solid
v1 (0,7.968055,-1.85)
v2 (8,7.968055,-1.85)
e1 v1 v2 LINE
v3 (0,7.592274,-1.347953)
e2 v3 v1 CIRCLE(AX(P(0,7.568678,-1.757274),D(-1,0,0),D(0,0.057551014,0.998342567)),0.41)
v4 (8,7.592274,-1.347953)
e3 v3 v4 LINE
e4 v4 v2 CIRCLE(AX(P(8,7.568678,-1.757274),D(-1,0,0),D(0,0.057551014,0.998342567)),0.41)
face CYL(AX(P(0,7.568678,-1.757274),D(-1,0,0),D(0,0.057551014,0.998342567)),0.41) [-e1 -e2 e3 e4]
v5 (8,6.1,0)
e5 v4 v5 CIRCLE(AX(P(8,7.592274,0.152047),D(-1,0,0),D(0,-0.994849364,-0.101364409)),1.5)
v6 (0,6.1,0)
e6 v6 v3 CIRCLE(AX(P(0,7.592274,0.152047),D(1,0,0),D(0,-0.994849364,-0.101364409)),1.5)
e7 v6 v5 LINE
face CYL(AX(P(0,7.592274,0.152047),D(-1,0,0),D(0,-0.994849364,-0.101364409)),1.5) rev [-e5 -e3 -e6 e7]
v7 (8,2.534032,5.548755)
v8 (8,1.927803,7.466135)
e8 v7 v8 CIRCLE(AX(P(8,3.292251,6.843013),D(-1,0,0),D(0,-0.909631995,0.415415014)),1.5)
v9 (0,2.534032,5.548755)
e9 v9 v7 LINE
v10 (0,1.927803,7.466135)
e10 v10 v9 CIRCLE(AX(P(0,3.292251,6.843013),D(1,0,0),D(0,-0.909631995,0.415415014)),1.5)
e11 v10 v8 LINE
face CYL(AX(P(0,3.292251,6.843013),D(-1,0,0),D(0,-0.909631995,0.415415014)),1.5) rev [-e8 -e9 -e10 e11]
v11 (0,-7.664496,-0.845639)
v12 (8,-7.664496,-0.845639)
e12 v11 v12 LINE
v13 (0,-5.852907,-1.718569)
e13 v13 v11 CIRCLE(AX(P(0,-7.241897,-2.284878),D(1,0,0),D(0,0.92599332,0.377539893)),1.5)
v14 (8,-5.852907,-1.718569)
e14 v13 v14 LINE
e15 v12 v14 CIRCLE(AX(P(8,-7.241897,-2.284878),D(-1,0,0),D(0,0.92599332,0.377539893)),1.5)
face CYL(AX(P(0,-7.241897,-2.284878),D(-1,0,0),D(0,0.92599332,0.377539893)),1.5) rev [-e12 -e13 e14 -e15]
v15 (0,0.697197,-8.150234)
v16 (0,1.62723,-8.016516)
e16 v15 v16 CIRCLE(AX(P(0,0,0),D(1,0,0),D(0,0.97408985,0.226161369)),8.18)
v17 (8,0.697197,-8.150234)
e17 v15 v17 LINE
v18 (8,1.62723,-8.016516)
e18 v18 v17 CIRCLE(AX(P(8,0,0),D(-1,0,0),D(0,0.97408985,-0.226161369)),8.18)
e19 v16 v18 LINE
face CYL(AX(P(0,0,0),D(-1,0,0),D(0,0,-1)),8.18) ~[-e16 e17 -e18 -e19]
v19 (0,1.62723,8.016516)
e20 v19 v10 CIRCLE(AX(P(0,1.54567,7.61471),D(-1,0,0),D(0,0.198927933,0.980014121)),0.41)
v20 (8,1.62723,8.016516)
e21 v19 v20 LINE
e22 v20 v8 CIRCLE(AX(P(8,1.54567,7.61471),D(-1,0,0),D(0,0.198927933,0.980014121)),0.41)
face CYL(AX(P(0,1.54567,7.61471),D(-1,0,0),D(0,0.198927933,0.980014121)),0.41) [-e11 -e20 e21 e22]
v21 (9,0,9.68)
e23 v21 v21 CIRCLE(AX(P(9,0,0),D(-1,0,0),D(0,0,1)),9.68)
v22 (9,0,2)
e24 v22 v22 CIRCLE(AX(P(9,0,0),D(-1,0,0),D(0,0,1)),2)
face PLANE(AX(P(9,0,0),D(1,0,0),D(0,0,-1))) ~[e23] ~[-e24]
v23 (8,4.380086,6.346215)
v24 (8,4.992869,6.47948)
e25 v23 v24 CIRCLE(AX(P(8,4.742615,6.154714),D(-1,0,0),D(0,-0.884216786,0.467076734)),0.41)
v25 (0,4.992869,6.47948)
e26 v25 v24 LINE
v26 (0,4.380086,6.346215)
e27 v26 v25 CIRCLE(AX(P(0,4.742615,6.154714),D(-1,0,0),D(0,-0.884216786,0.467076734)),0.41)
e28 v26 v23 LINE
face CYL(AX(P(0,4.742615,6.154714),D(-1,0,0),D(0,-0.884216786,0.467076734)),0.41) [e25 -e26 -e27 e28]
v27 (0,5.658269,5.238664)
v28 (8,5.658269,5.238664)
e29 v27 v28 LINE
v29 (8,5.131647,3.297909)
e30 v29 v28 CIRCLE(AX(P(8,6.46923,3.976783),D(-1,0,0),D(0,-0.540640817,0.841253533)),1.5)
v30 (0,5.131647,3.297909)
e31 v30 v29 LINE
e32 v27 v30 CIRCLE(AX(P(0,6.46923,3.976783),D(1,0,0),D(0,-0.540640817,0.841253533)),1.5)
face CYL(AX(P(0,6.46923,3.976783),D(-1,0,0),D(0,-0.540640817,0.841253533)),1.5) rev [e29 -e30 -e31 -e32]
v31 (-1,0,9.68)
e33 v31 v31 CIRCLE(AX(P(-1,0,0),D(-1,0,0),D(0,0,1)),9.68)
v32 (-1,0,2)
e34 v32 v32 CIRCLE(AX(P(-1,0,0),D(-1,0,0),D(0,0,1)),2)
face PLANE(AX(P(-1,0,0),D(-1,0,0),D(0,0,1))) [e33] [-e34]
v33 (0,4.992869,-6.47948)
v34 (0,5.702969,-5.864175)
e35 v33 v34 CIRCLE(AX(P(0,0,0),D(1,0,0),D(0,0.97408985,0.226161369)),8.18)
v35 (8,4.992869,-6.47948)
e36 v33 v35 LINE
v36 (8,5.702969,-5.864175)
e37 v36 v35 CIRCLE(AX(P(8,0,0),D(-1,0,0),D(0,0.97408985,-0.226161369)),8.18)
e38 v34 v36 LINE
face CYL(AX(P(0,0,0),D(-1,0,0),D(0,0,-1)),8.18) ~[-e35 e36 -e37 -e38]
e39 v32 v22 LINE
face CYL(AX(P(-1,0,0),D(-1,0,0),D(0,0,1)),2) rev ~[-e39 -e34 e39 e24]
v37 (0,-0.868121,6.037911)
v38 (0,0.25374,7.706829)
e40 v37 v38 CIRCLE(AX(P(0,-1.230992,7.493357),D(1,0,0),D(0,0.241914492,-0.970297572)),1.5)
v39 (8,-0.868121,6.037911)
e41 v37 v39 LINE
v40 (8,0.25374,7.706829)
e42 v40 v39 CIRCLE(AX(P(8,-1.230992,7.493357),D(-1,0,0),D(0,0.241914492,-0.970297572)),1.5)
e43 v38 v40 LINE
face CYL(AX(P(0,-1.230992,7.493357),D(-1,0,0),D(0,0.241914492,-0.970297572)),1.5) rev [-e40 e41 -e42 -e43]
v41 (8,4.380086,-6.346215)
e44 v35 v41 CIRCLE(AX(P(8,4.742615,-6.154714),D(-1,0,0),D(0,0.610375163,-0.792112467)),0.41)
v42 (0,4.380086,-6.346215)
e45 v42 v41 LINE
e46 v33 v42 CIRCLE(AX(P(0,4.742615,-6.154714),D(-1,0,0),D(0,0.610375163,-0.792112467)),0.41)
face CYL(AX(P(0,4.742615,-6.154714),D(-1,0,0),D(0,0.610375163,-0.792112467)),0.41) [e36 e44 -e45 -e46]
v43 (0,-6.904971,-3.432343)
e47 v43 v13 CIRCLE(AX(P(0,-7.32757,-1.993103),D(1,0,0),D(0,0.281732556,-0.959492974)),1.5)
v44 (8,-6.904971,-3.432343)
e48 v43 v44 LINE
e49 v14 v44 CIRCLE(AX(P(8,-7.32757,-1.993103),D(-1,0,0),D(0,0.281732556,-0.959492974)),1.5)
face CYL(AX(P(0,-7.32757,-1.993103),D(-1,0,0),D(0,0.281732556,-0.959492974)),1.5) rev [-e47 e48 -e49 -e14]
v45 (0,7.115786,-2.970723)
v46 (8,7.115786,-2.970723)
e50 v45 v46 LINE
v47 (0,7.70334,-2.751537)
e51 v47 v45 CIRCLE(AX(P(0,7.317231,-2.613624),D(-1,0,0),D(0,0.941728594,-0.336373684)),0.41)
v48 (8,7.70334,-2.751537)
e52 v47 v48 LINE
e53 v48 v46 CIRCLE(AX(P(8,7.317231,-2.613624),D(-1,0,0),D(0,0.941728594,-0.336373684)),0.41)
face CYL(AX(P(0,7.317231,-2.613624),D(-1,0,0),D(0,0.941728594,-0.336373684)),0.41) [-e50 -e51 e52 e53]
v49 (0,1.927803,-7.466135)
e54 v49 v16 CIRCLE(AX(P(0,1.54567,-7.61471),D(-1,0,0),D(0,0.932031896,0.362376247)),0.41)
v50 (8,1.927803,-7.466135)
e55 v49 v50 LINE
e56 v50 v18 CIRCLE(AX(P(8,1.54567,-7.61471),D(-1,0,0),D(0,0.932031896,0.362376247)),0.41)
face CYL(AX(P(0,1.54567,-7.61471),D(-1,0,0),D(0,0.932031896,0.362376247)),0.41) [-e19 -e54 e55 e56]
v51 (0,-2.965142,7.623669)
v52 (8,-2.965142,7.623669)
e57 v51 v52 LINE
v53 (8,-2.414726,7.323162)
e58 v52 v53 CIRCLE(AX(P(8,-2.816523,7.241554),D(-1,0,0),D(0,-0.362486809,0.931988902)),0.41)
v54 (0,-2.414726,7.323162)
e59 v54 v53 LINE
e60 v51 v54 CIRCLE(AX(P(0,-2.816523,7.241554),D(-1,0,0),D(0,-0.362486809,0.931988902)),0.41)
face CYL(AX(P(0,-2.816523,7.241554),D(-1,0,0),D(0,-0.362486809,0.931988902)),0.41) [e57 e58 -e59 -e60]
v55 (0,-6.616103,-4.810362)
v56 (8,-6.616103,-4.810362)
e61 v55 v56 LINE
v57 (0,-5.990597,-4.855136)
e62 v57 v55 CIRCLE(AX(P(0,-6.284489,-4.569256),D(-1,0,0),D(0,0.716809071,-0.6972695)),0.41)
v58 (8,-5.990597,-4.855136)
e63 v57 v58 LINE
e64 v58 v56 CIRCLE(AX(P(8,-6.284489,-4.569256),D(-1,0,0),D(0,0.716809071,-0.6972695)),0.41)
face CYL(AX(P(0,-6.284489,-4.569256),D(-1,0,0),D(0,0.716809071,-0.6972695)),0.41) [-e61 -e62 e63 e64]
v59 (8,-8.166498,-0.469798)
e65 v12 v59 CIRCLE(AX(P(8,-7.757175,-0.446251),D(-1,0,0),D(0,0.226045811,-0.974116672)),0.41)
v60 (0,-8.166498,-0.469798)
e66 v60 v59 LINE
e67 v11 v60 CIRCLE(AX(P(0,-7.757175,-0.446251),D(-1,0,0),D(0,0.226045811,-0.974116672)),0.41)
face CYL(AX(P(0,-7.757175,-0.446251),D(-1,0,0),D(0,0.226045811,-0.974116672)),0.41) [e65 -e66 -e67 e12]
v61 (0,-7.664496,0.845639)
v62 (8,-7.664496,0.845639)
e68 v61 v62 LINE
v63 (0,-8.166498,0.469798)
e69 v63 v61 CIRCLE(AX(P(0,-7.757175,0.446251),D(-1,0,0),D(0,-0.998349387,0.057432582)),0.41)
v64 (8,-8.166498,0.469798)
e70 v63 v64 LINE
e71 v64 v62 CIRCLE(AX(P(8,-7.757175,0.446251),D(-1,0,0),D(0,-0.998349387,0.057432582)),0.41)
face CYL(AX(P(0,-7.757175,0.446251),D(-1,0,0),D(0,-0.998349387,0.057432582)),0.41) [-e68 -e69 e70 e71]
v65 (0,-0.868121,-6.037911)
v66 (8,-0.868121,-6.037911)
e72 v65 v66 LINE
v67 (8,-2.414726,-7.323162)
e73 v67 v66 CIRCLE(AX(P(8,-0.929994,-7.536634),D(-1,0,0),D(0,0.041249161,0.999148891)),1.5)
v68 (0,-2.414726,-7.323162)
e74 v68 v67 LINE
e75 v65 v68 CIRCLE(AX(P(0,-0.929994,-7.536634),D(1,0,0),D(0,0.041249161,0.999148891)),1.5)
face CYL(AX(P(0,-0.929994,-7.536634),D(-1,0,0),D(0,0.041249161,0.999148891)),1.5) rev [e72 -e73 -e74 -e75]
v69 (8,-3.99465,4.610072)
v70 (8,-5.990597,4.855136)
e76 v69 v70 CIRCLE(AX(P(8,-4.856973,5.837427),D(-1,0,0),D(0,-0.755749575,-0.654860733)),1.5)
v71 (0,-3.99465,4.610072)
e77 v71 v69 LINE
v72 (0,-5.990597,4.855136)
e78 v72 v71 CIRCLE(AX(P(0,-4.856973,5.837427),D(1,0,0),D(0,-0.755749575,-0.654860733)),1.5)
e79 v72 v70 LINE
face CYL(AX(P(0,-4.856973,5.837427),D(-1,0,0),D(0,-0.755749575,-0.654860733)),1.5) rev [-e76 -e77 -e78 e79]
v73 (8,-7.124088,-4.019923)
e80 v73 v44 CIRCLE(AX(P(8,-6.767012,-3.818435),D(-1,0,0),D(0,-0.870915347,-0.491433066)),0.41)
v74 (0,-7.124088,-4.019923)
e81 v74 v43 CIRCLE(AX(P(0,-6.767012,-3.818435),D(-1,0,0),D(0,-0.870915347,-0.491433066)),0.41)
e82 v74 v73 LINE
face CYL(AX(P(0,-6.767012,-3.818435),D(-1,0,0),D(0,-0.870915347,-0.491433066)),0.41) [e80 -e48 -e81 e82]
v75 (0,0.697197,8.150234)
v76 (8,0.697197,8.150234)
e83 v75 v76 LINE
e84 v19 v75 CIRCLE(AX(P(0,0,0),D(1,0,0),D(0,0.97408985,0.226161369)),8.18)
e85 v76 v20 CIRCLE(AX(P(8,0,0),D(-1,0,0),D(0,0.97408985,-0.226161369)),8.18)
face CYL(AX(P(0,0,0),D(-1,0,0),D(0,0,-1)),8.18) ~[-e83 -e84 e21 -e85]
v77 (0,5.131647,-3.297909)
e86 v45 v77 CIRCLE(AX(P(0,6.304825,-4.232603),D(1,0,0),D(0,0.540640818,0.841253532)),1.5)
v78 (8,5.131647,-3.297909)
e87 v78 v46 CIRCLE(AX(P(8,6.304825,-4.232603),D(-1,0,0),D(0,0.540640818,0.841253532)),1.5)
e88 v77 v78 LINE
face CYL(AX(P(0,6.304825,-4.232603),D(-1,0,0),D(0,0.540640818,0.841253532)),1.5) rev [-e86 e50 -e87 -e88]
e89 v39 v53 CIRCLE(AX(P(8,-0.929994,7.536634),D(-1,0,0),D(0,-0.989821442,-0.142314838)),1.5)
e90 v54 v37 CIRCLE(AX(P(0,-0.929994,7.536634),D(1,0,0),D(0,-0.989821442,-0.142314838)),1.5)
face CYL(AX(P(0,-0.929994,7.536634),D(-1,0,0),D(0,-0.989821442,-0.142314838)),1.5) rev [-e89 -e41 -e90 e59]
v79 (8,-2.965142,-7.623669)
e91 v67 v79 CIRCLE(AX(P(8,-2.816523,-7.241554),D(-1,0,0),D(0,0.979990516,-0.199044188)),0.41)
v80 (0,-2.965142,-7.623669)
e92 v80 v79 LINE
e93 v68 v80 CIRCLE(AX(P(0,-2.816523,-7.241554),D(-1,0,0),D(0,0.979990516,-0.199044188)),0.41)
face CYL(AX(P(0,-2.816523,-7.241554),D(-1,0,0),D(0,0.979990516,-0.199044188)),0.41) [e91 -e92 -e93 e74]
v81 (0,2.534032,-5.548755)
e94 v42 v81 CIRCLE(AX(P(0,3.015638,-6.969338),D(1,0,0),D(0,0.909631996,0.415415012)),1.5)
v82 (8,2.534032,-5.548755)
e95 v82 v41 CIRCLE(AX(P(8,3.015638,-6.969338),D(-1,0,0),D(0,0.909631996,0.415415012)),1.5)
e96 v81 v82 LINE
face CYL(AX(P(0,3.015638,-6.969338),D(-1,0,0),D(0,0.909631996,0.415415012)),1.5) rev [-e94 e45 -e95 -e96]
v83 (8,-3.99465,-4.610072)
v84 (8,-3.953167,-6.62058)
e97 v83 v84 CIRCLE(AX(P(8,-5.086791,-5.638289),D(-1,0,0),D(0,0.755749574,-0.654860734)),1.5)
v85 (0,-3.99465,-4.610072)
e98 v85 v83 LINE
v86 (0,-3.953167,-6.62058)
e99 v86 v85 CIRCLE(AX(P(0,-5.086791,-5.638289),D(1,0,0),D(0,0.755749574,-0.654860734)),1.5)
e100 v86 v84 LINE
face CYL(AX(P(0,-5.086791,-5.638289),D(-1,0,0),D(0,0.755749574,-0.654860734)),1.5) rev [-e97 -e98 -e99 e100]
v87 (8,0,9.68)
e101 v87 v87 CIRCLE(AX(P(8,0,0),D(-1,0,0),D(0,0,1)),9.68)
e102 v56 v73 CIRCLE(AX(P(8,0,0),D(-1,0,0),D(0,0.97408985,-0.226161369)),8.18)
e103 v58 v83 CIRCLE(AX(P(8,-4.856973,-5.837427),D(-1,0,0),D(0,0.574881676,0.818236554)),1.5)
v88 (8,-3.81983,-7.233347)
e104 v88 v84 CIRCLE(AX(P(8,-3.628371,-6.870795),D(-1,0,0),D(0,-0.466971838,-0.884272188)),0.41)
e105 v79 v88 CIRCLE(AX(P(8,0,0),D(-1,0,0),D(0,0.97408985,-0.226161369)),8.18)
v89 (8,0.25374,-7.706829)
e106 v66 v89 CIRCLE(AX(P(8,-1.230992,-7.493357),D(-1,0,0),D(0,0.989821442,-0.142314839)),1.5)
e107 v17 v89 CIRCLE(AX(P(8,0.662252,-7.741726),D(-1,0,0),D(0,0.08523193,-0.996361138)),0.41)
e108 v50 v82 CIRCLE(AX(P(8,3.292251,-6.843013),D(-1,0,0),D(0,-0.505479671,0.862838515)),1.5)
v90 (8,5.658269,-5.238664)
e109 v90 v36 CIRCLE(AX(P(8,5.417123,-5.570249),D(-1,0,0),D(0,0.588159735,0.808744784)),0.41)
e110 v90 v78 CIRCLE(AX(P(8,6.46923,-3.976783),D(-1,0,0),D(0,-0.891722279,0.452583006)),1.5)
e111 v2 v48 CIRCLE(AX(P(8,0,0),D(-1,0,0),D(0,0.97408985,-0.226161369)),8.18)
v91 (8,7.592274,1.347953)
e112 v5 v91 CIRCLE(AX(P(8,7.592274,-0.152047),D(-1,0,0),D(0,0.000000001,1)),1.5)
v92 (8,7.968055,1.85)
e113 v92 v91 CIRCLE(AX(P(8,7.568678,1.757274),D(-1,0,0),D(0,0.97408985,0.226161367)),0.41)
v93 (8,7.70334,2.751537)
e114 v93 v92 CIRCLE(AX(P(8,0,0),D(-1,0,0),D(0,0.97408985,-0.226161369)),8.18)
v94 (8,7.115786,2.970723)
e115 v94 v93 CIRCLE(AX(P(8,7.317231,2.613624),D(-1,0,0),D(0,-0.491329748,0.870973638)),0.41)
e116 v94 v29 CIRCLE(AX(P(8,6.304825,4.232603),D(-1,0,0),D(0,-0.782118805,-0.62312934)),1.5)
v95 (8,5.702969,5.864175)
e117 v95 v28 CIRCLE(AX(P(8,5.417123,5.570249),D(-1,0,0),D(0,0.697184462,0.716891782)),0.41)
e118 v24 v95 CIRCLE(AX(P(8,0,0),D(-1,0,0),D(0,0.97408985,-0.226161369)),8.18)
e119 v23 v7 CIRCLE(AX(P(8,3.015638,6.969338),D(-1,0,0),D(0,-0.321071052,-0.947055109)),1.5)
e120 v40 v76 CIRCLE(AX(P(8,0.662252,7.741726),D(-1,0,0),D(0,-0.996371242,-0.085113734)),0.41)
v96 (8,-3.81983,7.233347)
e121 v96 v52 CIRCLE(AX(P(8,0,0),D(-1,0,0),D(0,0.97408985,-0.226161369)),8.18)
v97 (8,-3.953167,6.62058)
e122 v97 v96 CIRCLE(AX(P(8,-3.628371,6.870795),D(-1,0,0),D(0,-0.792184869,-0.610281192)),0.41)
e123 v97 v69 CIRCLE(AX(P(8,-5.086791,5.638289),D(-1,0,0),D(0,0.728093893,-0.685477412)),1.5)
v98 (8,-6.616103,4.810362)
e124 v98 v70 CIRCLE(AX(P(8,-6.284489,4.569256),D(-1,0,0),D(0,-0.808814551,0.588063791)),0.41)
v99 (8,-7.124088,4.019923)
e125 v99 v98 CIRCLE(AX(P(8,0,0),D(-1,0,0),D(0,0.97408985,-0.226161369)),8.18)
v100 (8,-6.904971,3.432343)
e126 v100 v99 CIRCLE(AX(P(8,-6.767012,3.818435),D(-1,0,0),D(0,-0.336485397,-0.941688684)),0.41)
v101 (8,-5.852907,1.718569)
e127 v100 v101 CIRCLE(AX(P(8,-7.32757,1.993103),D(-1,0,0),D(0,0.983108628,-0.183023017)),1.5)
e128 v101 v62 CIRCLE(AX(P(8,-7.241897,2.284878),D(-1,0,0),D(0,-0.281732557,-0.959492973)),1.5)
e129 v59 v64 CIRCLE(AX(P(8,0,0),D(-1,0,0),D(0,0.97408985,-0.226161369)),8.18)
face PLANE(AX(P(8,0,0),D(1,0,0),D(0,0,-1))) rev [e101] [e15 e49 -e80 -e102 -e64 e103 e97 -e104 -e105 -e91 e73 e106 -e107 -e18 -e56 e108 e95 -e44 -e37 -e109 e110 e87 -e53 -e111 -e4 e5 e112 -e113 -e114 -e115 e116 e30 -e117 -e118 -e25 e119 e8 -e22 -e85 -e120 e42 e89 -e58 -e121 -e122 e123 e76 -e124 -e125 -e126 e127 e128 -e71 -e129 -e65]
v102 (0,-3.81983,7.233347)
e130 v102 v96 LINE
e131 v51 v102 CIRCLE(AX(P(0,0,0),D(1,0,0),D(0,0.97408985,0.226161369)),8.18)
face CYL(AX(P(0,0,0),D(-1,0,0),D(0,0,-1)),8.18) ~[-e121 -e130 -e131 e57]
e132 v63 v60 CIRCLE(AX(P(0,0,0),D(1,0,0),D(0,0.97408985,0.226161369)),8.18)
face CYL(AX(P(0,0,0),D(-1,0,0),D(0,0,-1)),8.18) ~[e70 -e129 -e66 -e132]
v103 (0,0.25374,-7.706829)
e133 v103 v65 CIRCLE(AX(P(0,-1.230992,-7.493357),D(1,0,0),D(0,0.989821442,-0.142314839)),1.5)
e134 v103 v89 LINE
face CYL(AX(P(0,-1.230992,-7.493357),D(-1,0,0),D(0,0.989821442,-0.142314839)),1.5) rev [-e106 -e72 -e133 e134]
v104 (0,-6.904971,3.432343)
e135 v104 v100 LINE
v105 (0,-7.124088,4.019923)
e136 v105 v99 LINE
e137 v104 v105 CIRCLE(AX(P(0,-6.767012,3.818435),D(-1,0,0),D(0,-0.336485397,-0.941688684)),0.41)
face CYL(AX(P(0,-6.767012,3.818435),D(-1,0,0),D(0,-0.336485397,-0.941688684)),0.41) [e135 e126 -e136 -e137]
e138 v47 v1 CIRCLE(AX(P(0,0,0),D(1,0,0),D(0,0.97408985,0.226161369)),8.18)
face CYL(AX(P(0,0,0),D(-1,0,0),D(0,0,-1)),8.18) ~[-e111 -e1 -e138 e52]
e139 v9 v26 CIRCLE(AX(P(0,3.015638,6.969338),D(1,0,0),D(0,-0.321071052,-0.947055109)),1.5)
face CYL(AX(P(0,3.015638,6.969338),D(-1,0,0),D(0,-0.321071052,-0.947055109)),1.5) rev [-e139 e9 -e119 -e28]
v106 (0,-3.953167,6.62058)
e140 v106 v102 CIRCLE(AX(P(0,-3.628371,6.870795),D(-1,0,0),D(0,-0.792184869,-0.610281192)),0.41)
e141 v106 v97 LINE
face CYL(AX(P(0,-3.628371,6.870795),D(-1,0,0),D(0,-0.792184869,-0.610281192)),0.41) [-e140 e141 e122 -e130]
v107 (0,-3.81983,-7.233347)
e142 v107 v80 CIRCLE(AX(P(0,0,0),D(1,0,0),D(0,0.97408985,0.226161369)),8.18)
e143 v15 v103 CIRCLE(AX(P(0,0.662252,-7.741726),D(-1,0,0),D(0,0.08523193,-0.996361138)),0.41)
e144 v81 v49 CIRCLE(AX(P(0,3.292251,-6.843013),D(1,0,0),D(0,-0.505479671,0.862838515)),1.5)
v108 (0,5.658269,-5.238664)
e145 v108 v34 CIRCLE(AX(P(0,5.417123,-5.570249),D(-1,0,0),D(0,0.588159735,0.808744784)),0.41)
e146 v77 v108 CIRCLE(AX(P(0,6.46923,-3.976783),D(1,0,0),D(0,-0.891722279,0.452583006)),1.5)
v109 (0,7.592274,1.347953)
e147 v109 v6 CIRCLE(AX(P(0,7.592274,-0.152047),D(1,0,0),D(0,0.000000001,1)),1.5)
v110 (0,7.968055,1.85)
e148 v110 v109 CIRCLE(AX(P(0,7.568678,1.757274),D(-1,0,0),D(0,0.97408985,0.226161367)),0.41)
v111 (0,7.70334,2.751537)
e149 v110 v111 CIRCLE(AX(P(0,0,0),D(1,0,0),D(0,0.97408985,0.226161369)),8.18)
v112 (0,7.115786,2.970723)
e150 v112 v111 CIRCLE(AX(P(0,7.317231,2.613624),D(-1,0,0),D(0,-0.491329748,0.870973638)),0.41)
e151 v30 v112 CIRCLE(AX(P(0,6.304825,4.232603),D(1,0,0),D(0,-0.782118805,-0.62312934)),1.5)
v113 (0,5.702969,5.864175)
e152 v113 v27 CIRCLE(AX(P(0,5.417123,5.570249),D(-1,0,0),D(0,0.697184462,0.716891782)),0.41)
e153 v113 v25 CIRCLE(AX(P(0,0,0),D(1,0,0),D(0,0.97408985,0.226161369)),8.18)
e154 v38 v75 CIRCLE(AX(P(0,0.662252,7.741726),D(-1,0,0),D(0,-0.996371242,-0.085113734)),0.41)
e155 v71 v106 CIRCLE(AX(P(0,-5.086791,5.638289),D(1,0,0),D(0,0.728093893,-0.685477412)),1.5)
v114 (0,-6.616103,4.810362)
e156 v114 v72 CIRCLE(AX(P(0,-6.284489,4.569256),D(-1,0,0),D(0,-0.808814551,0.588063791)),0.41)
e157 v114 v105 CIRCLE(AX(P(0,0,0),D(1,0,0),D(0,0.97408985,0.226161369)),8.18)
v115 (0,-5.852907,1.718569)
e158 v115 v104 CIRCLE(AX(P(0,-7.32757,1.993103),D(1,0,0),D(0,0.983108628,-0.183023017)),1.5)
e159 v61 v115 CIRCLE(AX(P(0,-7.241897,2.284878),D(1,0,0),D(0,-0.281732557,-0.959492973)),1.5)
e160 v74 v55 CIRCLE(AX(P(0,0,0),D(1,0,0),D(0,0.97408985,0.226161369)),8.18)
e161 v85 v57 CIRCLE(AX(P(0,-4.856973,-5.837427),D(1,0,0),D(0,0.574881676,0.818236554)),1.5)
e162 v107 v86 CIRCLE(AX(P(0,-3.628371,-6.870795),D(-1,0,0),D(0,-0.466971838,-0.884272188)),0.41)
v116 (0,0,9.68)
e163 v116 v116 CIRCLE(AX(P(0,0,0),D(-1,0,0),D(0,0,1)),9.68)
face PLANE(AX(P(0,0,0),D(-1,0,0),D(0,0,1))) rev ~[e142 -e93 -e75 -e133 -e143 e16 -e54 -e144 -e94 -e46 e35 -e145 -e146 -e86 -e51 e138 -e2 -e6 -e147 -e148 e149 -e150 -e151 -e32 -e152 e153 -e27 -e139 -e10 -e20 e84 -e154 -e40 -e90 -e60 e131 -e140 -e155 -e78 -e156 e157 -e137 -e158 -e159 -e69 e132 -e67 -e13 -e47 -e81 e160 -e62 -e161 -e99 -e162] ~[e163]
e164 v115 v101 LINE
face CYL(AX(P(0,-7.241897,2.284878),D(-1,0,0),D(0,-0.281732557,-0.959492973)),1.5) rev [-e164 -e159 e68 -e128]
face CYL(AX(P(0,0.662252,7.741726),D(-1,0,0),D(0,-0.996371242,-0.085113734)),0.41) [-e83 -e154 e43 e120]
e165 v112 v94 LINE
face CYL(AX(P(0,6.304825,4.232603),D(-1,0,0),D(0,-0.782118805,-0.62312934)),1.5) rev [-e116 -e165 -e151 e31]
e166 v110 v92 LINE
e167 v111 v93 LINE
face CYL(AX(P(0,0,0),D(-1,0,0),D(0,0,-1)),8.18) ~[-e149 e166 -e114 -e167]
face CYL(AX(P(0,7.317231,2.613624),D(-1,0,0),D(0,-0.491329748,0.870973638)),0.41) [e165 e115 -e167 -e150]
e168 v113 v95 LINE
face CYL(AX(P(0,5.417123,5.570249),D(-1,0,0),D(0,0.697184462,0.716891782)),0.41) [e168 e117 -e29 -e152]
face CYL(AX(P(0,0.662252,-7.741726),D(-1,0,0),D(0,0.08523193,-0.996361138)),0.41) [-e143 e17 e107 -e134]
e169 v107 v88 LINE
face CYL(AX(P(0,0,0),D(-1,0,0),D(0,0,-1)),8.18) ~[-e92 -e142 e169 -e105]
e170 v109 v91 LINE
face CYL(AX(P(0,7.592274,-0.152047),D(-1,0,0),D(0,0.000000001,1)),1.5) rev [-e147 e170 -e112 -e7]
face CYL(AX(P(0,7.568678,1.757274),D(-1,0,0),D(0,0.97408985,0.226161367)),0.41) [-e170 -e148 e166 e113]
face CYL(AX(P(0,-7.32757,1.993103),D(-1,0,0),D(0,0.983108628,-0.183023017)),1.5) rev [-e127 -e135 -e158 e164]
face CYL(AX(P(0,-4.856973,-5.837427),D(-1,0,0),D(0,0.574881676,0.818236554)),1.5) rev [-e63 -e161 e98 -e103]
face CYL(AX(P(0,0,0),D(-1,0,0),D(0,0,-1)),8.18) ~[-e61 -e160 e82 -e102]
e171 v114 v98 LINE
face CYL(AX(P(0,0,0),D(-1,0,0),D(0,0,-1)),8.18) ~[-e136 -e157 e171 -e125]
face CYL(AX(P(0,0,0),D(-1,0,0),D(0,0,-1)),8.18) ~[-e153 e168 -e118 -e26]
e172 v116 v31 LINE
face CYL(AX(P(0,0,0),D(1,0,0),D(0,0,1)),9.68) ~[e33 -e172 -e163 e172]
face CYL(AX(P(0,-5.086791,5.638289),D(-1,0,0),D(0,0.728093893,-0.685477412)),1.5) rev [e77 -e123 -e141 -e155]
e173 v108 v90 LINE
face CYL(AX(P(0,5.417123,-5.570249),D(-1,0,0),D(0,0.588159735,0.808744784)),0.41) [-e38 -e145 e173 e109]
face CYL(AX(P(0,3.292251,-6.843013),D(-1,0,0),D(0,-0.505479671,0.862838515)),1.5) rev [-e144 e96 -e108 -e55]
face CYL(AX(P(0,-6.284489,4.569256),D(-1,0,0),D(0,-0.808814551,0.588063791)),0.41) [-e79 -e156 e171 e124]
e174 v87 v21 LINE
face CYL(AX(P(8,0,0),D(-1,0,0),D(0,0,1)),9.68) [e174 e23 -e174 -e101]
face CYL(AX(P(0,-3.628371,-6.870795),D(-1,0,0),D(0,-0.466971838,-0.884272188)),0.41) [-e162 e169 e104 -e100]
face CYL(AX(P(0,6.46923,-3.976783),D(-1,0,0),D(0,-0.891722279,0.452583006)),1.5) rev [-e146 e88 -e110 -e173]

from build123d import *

# Parameters (mm, degrees)
SKETCH1_R           = 8.18
BOSS_EXTRUDE1_DEPTH = 8
CUT_EXTRUDE1_DEPTH  = 9
CIRPATTERN1_COUNT   = 11
SKETCH4_R           = 9.68
BOSS_EXTRUDE2_DEPTH = 1
SKETCH6_R           = 2
CUT_EXTRUDE2_DEPTH  = 11


with BuildPart() as part:
    # Sketch1 → Boss-Extrude1 (new body)
    with BuildSketch(Plane(origin=(0, 0, 0), x_dir=(0, 0, -1), z_dir=(1, 0, 0))):
        Circle(SKETCH1_R)
    extrude(amount=BOSS_EXTRUDE1_DEPTH)

    # Sketch2 → Cut-Extrude1 (cut, through all)
    with BuildSketch(Plane(origin=(0, 0, 0), x_dir=(0, 0, -1), z_dir=(1, 0, 0))):
        with BuildLine():
            ThreePointArc((0, 6.1), (0.961072859, 6.586806473), (1.347953386, 7.592274046))
            ThreePointArc((1.347953386, 7.592274046), (1.511589464, 7.896914613), (1.85, 7.96805497))
            ThreePointArc((1.85, 7.96805497), (0, 8.18), (-1.85, 7.96805497))
            ThreePointArc((-1.85, 7.96805497), (-1.511589464, 7.896914613), (-1.347953386, 7.592274046))
            ThreePointArc((-1.347953386, 7.592274046), (-0.961072859, 6.586806473), (0, 6.1))
        make_face()
    cut_extrude1 = extrude(amount=CUT_EXTRUDE1_DEPTH, mode=Mode.SUBTRACT)

    # CirPattern1: Cut-Extrude1 ×11 about axis
    cirpattern1_axis = Axis((0, 0, 0), (1, 0, 0))
    for i in range(1, CIRPATTERN1_COUNT):
        add(cut_extrude1.rotate(cirpattern1_axis, i * 360 / CIRPATTERN1_COUNT), mode=Mode.SUBTRACT)

    # Sketch4 → Boss-Extrude2 (add)
    with BuildSketch(Plane.ZY):
        Circle(SKETCH4_R)
    boss_extrude2 = extrude(amount=BOSS_EXTRUDE2_DEPTH)

    # Mirror1: Boss-Extrude2 across plane
    add(boss_extrude2.mirror(Plane.ZY.offset(-4)))

    # Sketch6 → Cut-Extrude2 (cut, through all)
    with BuildSketch(Plane.ZY.offset(1)):
        Circle(SKETCH6_R)
    extrude(amount=-CUT_EXTRUDE2_DEPTH, mode=Mode.SUBTRACT)


solid = part.part
